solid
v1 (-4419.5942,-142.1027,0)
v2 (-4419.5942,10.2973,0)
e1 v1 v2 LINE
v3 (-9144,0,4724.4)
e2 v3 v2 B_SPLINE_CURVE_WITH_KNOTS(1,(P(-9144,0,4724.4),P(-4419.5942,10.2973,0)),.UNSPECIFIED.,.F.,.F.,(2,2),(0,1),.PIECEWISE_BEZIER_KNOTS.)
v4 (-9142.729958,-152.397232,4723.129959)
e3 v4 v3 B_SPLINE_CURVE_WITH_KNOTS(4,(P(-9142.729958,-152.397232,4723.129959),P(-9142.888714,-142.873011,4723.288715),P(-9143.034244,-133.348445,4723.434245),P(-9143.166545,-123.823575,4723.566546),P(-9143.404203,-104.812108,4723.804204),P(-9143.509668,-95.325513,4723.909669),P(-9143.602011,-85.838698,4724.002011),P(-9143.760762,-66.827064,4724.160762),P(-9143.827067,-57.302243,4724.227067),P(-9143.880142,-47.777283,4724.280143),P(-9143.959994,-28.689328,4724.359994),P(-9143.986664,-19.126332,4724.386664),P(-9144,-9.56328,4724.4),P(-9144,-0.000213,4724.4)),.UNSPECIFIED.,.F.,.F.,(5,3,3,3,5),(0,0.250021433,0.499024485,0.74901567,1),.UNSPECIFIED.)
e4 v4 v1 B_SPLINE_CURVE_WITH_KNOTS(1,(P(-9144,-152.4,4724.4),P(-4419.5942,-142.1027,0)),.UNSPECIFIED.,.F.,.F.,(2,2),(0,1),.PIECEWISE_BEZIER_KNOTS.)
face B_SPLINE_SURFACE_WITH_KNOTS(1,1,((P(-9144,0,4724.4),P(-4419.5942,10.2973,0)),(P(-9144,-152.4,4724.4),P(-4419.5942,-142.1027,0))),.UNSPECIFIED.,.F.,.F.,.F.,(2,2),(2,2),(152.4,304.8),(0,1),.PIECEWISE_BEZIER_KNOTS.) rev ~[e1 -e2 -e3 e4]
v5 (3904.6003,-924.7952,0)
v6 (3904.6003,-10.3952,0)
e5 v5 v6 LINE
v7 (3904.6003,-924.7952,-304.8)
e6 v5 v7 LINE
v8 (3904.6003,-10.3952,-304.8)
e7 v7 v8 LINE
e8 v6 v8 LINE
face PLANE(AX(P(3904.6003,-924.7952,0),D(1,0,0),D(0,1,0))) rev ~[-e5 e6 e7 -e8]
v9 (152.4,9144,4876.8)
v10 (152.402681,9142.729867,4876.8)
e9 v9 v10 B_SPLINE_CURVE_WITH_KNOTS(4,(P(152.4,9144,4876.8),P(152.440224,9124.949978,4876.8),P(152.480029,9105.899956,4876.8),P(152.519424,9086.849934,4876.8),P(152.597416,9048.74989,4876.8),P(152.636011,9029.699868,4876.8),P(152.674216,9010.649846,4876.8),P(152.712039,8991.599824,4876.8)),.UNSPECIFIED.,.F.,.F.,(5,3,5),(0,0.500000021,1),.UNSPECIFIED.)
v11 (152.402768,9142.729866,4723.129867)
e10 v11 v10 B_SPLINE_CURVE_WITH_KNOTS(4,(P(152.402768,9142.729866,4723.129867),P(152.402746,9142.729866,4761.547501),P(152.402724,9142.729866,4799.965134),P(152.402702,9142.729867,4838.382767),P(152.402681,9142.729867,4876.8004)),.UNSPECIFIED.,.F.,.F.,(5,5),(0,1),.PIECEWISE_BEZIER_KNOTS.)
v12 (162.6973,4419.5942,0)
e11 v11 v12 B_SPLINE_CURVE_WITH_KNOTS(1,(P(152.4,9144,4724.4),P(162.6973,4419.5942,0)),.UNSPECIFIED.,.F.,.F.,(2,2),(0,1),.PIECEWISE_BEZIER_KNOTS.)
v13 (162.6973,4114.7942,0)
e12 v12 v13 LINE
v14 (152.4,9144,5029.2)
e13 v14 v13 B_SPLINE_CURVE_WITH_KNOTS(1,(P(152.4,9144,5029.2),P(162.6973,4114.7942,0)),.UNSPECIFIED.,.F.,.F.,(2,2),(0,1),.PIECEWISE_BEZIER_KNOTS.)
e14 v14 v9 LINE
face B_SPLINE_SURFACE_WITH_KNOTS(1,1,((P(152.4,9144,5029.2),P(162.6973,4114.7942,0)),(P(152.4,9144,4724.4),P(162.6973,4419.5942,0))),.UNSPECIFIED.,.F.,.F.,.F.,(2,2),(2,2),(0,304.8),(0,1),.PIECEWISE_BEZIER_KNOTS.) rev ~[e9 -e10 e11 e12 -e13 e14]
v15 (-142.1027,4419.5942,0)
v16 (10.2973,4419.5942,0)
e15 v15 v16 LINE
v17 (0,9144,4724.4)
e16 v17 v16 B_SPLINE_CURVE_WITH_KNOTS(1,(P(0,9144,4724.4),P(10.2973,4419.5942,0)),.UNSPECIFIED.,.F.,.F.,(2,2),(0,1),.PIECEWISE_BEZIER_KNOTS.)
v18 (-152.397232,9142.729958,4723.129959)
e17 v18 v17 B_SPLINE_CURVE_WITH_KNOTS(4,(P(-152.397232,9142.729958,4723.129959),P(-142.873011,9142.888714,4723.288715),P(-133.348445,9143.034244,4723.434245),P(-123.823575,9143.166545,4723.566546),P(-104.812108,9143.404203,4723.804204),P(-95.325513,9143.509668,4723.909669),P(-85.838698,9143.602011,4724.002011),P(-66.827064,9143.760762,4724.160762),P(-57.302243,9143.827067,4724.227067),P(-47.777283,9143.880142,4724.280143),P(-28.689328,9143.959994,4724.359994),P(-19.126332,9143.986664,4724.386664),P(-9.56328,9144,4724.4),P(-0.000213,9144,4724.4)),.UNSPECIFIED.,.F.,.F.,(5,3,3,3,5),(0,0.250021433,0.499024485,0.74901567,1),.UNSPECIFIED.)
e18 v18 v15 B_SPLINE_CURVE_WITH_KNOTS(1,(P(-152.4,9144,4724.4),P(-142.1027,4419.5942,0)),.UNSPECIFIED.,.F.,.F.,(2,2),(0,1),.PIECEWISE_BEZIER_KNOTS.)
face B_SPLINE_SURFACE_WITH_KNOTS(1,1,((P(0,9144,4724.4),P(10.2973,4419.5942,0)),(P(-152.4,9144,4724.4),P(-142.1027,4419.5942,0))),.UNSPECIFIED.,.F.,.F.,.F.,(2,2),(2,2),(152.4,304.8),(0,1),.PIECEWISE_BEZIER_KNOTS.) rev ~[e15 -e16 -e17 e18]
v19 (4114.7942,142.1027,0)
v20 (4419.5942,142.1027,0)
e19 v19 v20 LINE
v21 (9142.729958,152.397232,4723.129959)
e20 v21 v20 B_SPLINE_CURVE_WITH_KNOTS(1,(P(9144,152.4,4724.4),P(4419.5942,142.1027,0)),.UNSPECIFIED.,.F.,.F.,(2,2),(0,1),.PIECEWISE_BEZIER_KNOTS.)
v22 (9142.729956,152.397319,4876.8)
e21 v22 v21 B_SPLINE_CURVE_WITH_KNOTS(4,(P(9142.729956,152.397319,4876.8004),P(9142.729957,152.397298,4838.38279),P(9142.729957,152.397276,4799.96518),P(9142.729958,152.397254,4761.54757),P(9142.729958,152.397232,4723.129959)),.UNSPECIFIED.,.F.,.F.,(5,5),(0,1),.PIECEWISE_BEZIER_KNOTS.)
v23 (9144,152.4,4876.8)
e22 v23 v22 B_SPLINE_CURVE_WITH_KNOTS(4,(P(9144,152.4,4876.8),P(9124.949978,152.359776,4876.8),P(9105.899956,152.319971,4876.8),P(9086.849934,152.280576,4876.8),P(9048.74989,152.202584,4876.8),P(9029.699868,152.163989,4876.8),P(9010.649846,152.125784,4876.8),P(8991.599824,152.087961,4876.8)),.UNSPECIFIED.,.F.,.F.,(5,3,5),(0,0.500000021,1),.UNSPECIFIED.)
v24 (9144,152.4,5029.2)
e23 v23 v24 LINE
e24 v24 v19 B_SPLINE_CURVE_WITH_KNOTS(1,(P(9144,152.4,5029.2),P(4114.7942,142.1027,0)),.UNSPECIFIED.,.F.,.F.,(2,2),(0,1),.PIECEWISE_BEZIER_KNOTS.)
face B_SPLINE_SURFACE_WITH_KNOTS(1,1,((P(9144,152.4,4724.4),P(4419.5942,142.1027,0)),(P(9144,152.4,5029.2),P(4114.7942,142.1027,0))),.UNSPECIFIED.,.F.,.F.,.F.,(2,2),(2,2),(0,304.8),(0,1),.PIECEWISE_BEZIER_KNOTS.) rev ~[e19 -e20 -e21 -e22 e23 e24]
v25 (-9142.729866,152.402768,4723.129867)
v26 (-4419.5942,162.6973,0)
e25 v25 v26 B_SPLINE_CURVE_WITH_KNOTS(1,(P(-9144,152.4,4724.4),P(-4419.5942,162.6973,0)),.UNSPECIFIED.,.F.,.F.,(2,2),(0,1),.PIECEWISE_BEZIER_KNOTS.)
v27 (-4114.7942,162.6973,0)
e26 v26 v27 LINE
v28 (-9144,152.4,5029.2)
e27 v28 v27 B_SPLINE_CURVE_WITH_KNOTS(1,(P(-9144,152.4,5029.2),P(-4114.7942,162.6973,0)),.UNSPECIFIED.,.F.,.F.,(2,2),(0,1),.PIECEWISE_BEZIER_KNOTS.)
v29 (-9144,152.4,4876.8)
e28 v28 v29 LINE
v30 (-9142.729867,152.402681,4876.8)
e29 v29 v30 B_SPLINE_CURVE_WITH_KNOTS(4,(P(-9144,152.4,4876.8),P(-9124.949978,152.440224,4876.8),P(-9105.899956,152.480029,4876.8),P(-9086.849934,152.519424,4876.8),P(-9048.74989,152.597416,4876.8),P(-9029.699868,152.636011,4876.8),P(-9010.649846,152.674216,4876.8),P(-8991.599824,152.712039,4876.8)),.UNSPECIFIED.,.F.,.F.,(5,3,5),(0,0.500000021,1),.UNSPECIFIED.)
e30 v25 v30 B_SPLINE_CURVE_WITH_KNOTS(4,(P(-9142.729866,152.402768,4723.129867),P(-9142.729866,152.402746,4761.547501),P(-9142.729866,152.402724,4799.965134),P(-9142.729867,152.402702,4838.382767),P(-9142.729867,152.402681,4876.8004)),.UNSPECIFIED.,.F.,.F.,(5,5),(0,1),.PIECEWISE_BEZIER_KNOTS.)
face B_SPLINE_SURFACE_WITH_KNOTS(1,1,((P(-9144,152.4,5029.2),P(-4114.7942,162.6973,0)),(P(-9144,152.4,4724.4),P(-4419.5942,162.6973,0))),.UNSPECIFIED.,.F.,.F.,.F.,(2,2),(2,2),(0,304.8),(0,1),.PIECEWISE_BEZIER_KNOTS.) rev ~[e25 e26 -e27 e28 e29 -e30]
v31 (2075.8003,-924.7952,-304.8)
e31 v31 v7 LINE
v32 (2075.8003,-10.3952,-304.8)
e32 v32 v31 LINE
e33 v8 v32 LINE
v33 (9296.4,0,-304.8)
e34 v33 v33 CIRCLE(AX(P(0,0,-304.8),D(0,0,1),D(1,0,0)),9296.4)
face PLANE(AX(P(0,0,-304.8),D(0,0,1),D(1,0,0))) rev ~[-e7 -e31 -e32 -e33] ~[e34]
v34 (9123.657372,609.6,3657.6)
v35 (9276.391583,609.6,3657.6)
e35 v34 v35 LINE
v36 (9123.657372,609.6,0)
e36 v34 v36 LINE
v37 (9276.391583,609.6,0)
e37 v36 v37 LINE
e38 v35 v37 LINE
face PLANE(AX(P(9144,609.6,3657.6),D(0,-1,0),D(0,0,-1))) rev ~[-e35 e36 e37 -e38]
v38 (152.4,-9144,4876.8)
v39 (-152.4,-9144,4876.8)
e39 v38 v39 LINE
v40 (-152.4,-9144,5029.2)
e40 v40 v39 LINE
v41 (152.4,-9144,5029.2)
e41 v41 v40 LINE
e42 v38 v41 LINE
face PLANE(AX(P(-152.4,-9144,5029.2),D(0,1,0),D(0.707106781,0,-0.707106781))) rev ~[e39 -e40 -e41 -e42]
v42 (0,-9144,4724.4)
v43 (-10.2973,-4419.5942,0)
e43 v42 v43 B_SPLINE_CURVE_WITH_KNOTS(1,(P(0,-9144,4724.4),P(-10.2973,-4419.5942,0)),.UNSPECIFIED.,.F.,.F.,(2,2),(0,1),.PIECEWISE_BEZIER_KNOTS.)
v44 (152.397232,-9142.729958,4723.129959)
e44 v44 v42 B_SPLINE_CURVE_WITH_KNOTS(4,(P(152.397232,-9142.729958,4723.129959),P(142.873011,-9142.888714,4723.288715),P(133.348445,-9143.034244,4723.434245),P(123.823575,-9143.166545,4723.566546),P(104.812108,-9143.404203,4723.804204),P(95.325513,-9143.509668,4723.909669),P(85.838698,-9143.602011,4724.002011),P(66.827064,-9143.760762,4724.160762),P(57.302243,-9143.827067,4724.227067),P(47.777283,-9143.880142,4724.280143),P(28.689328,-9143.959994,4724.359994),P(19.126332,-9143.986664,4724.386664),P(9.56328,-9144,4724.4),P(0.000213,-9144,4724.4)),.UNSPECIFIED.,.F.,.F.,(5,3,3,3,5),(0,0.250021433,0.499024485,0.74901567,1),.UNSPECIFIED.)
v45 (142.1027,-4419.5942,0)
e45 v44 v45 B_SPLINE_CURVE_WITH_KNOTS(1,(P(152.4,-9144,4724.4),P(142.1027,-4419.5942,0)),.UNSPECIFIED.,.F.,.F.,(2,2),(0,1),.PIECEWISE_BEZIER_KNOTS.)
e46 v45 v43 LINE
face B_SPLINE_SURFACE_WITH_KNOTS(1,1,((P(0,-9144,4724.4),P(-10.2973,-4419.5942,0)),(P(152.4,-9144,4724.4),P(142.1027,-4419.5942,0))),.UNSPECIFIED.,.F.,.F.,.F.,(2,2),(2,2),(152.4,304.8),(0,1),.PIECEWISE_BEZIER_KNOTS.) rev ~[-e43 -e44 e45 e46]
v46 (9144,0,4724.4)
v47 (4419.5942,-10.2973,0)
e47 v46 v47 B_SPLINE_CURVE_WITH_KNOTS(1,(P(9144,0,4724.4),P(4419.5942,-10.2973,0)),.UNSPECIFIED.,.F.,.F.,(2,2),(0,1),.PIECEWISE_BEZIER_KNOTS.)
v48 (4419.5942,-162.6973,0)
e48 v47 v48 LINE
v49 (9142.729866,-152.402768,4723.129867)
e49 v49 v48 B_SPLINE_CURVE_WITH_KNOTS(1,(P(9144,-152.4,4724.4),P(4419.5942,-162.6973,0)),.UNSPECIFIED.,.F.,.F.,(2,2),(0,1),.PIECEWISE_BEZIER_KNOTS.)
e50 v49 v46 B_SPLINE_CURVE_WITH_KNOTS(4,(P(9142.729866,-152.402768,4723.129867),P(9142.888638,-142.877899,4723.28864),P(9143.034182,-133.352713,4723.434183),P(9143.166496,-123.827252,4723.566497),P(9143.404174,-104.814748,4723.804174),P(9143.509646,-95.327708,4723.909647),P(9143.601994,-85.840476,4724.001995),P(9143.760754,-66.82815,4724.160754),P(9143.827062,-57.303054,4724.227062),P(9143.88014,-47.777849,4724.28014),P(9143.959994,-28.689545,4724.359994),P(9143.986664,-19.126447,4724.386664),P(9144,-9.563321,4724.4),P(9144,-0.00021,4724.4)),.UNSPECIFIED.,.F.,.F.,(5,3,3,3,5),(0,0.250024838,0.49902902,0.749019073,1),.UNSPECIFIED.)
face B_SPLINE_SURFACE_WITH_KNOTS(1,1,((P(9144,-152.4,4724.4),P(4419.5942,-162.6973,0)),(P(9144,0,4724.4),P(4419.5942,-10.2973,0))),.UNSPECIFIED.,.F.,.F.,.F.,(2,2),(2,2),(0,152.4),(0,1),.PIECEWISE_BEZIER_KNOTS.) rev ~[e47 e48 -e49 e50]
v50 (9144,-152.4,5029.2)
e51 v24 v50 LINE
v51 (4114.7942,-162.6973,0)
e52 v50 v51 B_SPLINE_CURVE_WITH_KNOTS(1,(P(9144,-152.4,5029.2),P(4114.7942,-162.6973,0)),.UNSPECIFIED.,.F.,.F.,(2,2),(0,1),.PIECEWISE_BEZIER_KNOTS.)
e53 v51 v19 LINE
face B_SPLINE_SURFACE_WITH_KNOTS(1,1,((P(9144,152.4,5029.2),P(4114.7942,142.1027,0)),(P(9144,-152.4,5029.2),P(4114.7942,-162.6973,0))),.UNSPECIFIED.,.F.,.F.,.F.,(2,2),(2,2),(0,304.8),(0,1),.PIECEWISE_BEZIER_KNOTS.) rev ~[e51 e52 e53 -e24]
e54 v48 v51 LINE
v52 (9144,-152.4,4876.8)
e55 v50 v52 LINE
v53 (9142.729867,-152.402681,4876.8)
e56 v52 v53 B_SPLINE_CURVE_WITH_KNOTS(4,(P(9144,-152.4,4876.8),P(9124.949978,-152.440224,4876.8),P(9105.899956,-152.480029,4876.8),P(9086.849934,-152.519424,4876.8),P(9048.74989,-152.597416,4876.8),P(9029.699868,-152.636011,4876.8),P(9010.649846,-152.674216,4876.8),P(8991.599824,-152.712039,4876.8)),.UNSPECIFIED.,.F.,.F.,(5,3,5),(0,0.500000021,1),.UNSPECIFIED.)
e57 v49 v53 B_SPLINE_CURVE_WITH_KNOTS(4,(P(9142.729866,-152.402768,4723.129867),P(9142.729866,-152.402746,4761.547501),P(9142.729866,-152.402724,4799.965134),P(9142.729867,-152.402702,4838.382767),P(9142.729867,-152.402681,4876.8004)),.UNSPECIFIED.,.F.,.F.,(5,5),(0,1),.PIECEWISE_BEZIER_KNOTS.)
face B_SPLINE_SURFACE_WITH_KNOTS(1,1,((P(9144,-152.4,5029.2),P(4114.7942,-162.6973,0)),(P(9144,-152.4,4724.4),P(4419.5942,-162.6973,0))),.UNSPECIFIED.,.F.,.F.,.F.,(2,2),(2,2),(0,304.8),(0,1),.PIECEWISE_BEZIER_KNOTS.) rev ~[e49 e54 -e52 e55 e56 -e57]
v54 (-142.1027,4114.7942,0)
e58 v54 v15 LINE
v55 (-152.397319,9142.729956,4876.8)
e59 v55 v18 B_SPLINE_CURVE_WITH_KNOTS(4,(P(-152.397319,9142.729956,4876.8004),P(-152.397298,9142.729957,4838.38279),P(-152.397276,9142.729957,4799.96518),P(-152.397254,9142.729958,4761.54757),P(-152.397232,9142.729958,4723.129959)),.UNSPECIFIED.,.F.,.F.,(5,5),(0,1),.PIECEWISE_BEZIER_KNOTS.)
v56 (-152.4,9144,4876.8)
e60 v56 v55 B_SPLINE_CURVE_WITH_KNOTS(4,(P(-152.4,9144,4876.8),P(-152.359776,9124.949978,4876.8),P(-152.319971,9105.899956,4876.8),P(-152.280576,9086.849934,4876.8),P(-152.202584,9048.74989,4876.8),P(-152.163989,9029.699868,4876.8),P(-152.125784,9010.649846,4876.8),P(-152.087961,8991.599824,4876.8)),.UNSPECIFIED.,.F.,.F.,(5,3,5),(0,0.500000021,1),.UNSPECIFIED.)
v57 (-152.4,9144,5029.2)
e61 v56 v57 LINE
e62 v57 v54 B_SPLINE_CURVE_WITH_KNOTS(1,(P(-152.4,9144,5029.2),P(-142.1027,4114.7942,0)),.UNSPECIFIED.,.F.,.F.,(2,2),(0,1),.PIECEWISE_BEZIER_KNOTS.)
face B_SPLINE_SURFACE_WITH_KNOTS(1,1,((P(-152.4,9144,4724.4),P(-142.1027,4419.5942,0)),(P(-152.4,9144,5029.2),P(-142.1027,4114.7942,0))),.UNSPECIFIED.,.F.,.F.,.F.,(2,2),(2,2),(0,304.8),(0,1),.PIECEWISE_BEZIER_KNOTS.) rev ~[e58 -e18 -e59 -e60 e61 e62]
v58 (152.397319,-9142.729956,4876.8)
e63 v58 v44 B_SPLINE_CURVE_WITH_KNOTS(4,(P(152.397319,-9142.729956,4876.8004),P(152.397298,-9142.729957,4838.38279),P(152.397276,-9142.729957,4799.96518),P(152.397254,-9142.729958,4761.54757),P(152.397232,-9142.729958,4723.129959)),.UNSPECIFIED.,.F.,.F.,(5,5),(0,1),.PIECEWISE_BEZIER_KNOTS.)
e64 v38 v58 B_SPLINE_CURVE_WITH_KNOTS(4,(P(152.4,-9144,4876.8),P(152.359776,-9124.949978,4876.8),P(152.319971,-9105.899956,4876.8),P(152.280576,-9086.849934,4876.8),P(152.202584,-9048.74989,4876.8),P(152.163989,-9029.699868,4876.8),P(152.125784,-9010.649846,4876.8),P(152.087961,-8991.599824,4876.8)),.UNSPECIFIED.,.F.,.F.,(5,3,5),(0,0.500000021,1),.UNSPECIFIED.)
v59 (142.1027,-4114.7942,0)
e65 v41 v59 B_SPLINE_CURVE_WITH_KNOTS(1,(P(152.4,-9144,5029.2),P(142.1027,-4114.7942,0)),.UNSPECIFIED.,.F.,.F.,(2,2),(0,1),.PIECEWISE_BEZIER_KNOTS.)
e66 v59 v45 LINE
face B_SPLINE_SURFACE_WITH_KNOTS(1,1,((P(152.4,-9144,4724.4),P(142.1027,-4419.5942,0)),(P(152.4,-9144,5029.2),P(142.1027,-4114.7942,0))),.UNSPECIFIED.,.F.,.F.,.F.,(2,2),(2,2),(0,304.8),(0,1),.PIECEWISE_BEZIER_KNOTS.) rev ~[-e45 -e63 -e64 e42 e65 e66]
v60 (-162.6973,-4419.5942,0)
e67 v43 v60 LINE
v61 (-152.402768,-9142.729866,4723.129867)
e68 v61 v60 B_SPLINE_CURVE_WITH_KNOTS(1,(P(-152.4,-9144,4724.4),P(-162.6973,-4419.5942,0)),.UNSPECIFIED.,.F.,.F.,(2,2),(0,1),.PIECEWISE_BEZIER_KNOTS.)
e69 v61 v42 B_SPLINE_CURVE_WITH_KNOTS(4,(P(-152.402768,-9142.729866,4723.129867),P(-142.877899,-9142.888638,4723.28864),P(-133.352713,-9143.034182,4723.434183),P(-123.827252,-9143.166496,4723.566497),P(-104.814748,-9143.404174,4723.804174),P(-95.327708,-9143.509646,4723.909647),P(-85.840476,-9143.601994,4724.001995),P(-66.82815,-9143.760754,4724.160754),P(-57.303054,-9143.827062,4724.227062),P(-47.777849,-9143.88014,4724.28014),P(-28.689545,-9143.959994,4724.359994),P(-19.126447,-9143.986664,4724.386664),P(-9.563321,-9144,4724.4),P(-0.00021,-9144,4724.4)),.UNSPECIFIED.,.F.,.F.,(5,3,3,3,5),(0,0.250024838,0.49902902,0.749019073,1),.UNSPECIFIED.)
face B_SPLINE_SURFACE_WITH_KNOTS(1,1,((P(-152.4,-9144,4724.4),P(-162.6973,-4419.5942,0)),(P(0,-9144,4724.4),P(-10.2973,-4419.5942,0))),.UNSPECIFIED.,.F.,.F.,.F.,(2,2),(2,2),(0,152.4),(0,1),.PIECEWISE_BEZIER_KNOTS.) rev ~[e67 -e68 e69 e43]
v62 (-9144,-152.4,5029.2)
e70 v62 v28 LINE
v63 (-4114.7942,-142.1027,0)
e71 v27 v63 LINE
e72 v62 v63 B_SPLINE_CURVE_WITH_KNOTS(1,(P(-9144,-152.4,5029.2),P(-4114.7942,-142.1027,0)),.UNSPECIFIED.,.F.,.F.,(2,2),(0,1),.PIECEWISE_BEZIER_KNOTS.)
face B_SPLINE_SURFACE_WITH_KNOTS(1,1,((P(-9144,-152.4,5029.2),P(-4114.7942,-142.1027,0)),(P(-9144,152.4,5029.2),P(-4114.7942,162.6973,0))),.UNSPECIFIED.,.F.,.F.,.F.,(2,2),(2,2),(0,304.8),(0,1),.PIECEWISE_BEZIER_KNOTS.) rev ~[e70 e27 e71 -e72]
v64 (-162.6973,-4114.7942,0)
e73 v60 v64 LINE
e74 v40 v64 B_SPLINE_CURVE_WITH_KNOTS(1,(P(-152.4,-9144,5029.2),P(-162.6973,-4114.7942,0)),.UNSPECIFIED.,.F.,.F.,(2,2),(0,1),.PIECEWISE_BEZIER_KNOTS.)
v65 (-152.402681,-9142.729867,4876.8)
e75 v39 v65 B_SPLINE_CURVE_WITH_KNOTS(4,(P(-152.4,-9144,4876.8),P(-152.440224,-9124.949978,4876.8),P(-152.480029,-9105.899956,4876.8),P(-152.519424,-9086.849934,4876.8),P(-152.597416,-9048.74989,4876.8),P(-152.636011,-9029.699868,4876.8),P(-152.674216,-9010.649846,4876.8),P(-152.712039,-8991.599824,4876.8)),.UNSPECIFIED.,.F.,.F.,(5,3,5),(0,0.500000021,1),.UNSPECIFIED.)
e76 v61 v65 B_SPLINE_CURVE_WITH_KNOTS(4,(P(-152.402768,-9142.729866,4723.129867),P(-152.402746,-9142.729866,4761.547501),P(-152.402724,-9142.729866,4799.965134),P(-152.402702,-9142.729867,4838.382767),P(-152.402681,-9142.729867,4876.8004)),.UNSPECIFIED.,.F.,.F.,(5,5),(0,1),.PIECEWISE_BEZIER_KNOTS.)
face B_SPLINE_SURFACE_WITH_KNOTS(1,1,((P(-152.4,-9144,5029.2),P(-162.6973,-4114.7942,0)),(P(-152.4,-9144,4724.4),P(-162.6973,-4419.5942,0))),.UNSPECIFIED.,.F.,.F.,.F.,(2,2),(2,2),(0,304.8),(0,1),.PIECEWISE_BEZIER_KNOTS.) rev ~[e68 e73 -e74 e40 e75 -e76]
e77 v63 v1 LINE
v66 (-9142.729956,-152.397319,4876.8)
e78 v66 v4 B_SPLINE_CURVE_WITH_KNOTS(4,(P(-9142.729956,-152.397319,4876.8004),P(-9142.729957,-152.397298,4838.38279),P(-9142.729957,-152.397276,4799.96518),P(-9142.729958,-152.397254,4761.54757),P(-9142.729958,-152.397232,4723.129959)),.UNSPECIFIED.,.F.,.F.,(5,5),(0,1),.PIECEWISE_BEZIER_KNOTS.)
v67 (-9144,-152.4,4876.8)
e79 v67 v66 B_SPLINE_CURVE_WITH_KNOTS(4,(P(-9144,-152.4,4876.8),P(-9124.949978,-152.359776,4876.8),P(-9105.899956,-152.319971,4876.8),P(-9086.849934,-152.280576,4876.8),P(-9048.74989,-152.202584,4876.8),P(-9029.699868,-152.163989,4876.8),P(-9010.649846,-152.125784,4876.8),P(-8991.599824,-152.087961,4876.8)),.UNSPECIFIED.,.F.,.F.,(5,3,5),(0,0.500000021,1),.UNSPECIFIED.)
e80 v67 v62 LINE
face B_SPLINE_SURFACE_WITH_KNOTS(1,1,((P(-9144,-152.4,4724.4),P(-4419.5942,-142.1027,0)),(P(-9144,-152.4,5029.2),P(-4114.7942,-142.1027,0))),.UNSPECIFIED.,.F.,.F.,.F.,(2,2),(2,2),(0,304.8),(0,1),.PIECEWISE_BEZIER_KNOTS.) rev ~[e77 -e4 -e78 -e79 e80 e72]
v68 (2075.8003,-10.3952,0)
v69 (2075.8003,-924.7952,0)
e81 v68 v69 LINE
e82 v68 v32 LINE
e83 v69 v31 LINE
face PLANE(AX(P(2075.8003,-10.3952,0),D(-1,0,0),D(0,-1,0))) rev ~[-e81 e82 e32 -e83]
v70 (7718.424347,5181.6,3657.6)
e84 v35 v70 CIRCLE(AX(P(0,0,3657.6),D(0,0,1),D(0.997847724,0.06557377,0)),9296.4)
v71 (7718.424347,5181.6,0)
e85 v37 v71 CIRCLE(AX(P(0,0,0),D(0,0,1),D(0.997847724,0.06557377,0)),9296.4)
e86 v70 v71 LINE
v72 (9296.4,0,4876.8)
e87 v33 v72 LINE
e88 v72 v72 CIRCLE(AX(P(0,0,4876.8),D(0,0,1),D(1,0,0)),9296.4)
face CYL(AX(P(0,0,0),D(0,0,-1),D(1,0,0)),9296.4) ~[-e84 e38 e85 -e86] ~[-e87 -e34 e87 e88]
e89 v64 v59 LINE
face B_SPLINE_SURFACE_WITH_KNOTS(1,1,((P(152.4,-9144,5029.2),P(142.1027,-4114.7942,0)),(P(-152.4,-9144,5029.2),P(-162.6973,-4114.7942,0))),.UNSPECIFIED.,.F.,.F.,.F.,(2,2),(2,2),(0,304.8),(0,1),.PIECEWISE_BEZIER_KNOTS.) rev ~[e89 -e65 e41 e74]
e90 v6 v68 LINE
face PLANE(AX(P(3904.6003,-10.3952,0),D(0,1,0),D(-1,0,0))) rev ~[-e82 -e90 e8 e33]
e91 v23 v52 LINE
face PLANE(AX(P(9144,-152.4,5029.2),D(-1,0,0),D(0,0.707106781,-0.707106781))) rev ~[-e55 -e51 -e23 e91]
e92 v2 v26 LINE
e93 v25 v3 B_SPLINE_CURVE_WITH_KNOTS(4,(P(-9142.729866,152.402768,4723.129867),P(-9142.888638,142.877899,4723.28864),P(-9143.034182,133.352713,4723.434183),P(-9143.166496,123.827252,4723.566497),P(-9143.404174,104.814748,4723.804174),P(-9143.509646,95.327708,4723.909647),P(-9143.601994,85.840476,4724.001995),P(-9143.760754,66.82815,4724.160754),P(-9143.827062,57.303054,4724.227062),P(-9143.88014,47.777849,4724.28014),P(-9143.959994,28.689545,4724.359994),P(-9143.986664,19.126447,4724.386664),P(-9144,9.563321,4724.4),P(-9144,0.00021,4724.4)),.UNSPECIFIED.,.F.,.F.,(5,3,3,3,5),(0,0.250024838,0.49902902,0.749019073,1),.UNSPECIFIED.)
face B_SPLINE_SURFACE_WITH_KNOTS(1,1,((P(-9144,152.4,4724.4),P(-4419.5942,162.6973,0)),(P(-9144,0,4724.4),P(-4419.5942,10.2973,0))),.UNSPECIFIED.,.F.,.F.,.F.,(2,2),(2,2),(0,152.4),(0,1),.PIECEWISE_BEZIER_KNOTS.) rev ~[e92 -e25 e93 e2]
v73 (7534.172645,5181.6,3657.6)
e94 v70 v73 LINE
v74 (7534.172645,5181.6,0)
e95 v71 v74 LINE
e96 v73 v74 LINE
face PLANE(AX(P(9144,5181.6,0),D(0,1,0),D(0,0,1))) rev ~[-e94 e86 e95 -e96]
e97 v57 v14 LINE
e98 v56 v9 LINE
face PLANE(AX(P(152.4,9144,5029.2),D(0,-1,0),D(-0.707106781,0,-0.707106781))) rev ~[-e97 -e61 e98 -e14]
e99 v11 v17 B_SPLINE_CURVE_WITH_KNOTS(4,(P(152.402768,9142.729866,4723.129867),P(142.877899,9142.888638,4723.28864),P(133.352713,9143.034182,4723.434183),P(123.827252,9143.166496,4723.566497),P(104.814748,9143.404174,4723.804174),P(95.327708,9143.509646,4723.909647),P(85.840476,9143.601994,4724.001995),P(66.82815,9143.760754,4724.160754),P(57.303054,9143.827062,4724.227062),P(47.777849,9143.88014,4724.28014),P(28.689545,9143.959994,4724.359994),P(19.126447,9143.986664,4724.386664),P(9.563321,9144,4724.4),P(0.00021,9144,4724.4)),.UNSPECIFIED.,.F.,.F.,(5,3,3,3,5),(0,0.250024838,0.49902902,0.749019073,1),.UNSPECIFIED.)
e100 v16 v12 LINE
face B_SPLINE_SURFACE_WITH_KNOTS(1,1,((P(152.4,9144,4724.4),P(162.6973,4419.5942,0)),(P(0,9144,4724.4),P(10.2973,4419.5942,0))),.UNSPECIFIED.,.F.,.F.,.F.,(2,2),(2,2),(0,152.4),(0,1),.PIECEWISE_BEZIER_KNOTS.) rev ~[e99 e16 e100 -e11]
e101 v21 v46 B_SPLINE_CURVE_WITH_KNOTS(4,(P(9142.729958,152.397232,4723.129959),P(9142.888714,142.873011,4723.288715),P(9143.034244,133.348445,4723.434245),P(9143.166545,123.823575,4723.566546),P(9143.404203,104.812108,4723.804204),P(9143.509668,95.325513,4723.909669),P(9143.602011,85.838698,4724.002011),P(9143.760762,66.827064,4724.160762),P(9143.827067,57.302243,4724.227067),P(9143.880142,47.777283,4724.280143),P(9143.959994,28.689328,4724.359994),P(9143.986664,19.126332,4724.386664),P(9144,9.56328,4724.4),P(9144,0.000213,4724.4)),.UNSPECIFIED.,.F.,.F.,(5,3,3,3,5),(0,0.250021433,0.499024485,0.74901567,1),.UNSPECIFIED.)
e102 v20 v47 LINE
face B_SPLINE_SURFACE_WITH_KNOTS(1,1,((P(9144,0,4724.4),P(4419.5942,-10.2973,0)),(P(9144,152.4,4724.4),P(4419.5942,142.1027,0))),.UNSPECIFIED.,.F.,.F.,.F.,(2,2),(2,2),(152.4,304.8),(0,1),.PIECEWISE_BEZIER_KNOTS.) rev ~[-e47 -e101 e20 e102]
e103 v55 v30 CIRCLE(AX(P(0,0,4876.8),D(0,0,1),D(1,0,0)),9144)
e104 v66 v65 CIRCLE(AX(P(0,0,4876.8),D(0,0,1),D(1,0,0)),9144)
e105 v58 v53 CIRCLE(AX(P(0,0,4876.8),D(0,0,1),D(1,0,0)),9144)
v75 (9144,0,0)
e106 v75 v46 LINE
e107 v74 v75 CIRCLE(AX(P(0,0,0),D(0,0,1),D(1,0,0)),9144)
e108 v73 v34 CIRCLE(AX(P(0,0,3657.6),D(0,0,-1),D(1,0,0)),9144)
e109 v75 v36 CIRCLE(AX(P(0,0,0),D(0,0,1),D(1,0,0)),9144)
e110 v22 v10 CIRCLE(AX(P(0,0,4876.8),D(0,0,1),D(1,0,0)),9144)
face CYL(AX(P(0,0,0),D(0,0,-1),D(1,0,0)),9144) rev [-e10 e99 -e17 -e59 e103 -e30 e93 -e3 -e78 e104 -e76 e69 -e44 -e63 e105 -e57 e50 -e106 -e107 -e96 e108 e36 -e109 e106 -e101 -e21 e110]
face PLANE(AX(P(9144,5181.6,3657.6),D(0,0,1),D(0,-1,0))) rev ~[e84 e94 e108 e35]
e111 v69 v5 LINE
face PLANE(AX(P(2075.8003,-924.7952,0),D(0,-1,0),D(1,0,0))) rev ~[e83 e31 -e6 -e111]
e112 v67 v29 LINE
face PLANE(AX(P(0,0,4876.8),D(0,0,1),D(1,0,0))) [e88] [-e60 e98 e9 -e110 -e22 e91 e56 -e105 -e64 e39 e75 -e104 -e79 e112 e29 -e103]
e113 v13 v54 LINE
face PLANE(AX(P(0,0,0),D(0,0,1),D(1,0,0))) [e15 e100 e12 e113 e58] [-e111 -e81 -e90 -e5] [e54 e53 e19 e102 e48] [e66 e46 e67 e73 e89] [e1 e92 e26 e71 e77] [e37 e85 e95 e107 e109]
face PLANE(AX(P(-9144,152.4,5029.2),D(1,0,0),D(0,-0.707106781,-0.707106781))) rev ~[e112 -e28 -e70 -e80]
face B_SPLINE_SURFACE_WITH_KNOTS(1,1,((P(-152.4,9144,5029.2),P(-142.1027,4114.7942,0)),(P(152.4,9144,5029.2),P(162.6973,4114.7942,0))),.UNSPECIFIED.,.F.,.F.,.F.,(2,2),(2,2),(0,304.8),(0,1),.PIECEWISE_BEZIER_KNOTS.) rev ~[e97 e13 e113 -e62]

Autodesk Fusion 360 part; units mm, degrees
sketch "Sketch1" plane through (0, 0, 0) normal (0, 0, 1) x (1, 0, 0)
  circle A0 centre (0, 0) radius 9144
  line L0 (-9143.9942, 10.2973) -> (-4267.1942, 10.2973) construction
  line L1 (-4114.7942, -142.1027) -> (-4419.5942, -142.1027)
  line L2 (-4419.5942, -142.1027) -> (-4419.5942, 162.6973)
  line L3 (-4419.5942, 162.6973) -> (-4114.7942, 162.6973)
  line L4 (-4114.7942, 162.6973) -> (-4114.7942, -142.1027)
  line L5 (-4114.7942, -142.1027) -> (-4419.5942, 162.6973) construction
  line L6 (-4419.5942, -142.1027) -> (-4114.7942, 162.6973) construction
  line L7 (-162.6973, -4114.7942) -> (142.1027, -4114.7942)
  line L8 (142.1027, -4114.7942) -> (142.1027, -4419.5942)
  line L9 (142.1027, -4419.5942) -> (-162.6973, -4419.5942)
  line L10 (-162.6973, -4419.5942) -> (-162.6973, -4114.7942)
  line L11 (4114.7942, -162.6973) -> (4114.7942, 142.1027)
  line L12 (4114.7942, 142.1027) -> (4419.5942, 142.1027)
  line L13 (4419.5942, 142.1027) -> (4419.5942, -162.6973)
  line L14 (4419.5942, -162.6973) -> (4114.7942, -162.6973)
  line L15 (162.6973, 4114.7942) -> (-142.1027, 4114.7942)
  line L16 (-142.1027, 4114.7942) -> (-142.1027, 4419.5942)
  line L17 (-142.1027, 4419.5942) -> (162.6973, 4419.5942)
  line L18 (162.6973, 4419.5942) -> (162.6973, 4114.7942)
  circle A1 centre (0, 0) radius 9296.4
  point P0 (-4267.1942, 10.2973)
  dimension "d1" = 18288
  dimension "d2" = 4876.8
  dimension "d3" = 304.8
  dimension "d4" = 304.8
  dimension "d6" = 360
  dimension "d7" = 18592.8
extrude "Extrude1" add sketch "Sketch1" along normal blind 4876.8 contours A1
extrude "Extrude2" add sketch "Sketch1" against normal blind 304.8 contours A0 | L1 L2 L3 L4 | L7 L8 L9 L10 | L11 L12 L13 L14 | L15 L16 L17 L18 | A1
ref_plane "WorkPlane1" through (9144, 0, 0) normal (1, 0, 0) x (0, 1, 0)
sketch "Sketch2" plane through (9144, 0, 0) normal (1, 0, 0) x (0, 1, 0)
  line L0 (0, 0) -> (0, 4876.8)
  line L1 (-152.4, 4724.4) -> (152.4, 4724.4)
  line L2 (152.4, 4724.4) -> (152.4, 5029.2)
  line L3 (152.4, 5029.2) -> (-152.4, 5029.2)
  line L4 (-152.4, 5029.2) -> (-152.4, 4724.4)
  line L5 (-152.4, 4724.4) -> (152.4, 5029.2) construction
  line L6 (152.4, 4724.4) -> (-152.4, 5029.2) construction
  line L7 (609.6, 0) -> (5181.6, 0)
  line L8 (5181.6, 0) -> (5181.6, 3657.6)
  line L9 (5181.6, 3657.6) -> (609.6, 3657.6)
  line L10 (609.6, 3657.6) -> (609.6, 0)
  point P0 (0, 4876.8)
  dimension "d13" = 4876.8
  dimension "d14" = 304.8
  dimension "d15" = 304.8
  dimension "d18" = 4572
  dimension "d19" = 3657.6
loft "Loft1" add profiles "Sketch2", "Sketch1" section 1 contours L1 L2 L3 L4 section 2 contours L11 L12 L13 L14
pattern_circular "C-Pattern1" count 4 over 360 about axis through (0, 0, 1.75) along (0, 0, 1) of "Loft1"
extrude "Extrude4" cut sketch "Sketch2" against normal blind 5486.4 contours L7 L8 L9 L10
extrude "Extrude5" cut 1 faces at (9144, 965.2, 2438.4) along direction (1, 0, 0) blind 2438.4
sketch "Sketch3" plane through (0, 0, 0) normal (0, 0, 1) x (1, 0, 0)
  line L0 (2075.8003, -924.7952) -> (3904.6003, -924.7952)
  line L1 (3904.6003, -924.7952) -> (3904.6003, -10.3952)
  line L2 (3904.6003, -10.3952) -> (2075.8003, -10.3952)
  line L3 (2075.8003, -10.3952) -> (2075.8003, -924.7952)
  dimension "d26" = 1828.8
  dimension "d27" = 914.4
extrude "Extrude6" cut sketch "Sketch3" against normal blind 4572
extrude "Extrude3" [suppressed]
